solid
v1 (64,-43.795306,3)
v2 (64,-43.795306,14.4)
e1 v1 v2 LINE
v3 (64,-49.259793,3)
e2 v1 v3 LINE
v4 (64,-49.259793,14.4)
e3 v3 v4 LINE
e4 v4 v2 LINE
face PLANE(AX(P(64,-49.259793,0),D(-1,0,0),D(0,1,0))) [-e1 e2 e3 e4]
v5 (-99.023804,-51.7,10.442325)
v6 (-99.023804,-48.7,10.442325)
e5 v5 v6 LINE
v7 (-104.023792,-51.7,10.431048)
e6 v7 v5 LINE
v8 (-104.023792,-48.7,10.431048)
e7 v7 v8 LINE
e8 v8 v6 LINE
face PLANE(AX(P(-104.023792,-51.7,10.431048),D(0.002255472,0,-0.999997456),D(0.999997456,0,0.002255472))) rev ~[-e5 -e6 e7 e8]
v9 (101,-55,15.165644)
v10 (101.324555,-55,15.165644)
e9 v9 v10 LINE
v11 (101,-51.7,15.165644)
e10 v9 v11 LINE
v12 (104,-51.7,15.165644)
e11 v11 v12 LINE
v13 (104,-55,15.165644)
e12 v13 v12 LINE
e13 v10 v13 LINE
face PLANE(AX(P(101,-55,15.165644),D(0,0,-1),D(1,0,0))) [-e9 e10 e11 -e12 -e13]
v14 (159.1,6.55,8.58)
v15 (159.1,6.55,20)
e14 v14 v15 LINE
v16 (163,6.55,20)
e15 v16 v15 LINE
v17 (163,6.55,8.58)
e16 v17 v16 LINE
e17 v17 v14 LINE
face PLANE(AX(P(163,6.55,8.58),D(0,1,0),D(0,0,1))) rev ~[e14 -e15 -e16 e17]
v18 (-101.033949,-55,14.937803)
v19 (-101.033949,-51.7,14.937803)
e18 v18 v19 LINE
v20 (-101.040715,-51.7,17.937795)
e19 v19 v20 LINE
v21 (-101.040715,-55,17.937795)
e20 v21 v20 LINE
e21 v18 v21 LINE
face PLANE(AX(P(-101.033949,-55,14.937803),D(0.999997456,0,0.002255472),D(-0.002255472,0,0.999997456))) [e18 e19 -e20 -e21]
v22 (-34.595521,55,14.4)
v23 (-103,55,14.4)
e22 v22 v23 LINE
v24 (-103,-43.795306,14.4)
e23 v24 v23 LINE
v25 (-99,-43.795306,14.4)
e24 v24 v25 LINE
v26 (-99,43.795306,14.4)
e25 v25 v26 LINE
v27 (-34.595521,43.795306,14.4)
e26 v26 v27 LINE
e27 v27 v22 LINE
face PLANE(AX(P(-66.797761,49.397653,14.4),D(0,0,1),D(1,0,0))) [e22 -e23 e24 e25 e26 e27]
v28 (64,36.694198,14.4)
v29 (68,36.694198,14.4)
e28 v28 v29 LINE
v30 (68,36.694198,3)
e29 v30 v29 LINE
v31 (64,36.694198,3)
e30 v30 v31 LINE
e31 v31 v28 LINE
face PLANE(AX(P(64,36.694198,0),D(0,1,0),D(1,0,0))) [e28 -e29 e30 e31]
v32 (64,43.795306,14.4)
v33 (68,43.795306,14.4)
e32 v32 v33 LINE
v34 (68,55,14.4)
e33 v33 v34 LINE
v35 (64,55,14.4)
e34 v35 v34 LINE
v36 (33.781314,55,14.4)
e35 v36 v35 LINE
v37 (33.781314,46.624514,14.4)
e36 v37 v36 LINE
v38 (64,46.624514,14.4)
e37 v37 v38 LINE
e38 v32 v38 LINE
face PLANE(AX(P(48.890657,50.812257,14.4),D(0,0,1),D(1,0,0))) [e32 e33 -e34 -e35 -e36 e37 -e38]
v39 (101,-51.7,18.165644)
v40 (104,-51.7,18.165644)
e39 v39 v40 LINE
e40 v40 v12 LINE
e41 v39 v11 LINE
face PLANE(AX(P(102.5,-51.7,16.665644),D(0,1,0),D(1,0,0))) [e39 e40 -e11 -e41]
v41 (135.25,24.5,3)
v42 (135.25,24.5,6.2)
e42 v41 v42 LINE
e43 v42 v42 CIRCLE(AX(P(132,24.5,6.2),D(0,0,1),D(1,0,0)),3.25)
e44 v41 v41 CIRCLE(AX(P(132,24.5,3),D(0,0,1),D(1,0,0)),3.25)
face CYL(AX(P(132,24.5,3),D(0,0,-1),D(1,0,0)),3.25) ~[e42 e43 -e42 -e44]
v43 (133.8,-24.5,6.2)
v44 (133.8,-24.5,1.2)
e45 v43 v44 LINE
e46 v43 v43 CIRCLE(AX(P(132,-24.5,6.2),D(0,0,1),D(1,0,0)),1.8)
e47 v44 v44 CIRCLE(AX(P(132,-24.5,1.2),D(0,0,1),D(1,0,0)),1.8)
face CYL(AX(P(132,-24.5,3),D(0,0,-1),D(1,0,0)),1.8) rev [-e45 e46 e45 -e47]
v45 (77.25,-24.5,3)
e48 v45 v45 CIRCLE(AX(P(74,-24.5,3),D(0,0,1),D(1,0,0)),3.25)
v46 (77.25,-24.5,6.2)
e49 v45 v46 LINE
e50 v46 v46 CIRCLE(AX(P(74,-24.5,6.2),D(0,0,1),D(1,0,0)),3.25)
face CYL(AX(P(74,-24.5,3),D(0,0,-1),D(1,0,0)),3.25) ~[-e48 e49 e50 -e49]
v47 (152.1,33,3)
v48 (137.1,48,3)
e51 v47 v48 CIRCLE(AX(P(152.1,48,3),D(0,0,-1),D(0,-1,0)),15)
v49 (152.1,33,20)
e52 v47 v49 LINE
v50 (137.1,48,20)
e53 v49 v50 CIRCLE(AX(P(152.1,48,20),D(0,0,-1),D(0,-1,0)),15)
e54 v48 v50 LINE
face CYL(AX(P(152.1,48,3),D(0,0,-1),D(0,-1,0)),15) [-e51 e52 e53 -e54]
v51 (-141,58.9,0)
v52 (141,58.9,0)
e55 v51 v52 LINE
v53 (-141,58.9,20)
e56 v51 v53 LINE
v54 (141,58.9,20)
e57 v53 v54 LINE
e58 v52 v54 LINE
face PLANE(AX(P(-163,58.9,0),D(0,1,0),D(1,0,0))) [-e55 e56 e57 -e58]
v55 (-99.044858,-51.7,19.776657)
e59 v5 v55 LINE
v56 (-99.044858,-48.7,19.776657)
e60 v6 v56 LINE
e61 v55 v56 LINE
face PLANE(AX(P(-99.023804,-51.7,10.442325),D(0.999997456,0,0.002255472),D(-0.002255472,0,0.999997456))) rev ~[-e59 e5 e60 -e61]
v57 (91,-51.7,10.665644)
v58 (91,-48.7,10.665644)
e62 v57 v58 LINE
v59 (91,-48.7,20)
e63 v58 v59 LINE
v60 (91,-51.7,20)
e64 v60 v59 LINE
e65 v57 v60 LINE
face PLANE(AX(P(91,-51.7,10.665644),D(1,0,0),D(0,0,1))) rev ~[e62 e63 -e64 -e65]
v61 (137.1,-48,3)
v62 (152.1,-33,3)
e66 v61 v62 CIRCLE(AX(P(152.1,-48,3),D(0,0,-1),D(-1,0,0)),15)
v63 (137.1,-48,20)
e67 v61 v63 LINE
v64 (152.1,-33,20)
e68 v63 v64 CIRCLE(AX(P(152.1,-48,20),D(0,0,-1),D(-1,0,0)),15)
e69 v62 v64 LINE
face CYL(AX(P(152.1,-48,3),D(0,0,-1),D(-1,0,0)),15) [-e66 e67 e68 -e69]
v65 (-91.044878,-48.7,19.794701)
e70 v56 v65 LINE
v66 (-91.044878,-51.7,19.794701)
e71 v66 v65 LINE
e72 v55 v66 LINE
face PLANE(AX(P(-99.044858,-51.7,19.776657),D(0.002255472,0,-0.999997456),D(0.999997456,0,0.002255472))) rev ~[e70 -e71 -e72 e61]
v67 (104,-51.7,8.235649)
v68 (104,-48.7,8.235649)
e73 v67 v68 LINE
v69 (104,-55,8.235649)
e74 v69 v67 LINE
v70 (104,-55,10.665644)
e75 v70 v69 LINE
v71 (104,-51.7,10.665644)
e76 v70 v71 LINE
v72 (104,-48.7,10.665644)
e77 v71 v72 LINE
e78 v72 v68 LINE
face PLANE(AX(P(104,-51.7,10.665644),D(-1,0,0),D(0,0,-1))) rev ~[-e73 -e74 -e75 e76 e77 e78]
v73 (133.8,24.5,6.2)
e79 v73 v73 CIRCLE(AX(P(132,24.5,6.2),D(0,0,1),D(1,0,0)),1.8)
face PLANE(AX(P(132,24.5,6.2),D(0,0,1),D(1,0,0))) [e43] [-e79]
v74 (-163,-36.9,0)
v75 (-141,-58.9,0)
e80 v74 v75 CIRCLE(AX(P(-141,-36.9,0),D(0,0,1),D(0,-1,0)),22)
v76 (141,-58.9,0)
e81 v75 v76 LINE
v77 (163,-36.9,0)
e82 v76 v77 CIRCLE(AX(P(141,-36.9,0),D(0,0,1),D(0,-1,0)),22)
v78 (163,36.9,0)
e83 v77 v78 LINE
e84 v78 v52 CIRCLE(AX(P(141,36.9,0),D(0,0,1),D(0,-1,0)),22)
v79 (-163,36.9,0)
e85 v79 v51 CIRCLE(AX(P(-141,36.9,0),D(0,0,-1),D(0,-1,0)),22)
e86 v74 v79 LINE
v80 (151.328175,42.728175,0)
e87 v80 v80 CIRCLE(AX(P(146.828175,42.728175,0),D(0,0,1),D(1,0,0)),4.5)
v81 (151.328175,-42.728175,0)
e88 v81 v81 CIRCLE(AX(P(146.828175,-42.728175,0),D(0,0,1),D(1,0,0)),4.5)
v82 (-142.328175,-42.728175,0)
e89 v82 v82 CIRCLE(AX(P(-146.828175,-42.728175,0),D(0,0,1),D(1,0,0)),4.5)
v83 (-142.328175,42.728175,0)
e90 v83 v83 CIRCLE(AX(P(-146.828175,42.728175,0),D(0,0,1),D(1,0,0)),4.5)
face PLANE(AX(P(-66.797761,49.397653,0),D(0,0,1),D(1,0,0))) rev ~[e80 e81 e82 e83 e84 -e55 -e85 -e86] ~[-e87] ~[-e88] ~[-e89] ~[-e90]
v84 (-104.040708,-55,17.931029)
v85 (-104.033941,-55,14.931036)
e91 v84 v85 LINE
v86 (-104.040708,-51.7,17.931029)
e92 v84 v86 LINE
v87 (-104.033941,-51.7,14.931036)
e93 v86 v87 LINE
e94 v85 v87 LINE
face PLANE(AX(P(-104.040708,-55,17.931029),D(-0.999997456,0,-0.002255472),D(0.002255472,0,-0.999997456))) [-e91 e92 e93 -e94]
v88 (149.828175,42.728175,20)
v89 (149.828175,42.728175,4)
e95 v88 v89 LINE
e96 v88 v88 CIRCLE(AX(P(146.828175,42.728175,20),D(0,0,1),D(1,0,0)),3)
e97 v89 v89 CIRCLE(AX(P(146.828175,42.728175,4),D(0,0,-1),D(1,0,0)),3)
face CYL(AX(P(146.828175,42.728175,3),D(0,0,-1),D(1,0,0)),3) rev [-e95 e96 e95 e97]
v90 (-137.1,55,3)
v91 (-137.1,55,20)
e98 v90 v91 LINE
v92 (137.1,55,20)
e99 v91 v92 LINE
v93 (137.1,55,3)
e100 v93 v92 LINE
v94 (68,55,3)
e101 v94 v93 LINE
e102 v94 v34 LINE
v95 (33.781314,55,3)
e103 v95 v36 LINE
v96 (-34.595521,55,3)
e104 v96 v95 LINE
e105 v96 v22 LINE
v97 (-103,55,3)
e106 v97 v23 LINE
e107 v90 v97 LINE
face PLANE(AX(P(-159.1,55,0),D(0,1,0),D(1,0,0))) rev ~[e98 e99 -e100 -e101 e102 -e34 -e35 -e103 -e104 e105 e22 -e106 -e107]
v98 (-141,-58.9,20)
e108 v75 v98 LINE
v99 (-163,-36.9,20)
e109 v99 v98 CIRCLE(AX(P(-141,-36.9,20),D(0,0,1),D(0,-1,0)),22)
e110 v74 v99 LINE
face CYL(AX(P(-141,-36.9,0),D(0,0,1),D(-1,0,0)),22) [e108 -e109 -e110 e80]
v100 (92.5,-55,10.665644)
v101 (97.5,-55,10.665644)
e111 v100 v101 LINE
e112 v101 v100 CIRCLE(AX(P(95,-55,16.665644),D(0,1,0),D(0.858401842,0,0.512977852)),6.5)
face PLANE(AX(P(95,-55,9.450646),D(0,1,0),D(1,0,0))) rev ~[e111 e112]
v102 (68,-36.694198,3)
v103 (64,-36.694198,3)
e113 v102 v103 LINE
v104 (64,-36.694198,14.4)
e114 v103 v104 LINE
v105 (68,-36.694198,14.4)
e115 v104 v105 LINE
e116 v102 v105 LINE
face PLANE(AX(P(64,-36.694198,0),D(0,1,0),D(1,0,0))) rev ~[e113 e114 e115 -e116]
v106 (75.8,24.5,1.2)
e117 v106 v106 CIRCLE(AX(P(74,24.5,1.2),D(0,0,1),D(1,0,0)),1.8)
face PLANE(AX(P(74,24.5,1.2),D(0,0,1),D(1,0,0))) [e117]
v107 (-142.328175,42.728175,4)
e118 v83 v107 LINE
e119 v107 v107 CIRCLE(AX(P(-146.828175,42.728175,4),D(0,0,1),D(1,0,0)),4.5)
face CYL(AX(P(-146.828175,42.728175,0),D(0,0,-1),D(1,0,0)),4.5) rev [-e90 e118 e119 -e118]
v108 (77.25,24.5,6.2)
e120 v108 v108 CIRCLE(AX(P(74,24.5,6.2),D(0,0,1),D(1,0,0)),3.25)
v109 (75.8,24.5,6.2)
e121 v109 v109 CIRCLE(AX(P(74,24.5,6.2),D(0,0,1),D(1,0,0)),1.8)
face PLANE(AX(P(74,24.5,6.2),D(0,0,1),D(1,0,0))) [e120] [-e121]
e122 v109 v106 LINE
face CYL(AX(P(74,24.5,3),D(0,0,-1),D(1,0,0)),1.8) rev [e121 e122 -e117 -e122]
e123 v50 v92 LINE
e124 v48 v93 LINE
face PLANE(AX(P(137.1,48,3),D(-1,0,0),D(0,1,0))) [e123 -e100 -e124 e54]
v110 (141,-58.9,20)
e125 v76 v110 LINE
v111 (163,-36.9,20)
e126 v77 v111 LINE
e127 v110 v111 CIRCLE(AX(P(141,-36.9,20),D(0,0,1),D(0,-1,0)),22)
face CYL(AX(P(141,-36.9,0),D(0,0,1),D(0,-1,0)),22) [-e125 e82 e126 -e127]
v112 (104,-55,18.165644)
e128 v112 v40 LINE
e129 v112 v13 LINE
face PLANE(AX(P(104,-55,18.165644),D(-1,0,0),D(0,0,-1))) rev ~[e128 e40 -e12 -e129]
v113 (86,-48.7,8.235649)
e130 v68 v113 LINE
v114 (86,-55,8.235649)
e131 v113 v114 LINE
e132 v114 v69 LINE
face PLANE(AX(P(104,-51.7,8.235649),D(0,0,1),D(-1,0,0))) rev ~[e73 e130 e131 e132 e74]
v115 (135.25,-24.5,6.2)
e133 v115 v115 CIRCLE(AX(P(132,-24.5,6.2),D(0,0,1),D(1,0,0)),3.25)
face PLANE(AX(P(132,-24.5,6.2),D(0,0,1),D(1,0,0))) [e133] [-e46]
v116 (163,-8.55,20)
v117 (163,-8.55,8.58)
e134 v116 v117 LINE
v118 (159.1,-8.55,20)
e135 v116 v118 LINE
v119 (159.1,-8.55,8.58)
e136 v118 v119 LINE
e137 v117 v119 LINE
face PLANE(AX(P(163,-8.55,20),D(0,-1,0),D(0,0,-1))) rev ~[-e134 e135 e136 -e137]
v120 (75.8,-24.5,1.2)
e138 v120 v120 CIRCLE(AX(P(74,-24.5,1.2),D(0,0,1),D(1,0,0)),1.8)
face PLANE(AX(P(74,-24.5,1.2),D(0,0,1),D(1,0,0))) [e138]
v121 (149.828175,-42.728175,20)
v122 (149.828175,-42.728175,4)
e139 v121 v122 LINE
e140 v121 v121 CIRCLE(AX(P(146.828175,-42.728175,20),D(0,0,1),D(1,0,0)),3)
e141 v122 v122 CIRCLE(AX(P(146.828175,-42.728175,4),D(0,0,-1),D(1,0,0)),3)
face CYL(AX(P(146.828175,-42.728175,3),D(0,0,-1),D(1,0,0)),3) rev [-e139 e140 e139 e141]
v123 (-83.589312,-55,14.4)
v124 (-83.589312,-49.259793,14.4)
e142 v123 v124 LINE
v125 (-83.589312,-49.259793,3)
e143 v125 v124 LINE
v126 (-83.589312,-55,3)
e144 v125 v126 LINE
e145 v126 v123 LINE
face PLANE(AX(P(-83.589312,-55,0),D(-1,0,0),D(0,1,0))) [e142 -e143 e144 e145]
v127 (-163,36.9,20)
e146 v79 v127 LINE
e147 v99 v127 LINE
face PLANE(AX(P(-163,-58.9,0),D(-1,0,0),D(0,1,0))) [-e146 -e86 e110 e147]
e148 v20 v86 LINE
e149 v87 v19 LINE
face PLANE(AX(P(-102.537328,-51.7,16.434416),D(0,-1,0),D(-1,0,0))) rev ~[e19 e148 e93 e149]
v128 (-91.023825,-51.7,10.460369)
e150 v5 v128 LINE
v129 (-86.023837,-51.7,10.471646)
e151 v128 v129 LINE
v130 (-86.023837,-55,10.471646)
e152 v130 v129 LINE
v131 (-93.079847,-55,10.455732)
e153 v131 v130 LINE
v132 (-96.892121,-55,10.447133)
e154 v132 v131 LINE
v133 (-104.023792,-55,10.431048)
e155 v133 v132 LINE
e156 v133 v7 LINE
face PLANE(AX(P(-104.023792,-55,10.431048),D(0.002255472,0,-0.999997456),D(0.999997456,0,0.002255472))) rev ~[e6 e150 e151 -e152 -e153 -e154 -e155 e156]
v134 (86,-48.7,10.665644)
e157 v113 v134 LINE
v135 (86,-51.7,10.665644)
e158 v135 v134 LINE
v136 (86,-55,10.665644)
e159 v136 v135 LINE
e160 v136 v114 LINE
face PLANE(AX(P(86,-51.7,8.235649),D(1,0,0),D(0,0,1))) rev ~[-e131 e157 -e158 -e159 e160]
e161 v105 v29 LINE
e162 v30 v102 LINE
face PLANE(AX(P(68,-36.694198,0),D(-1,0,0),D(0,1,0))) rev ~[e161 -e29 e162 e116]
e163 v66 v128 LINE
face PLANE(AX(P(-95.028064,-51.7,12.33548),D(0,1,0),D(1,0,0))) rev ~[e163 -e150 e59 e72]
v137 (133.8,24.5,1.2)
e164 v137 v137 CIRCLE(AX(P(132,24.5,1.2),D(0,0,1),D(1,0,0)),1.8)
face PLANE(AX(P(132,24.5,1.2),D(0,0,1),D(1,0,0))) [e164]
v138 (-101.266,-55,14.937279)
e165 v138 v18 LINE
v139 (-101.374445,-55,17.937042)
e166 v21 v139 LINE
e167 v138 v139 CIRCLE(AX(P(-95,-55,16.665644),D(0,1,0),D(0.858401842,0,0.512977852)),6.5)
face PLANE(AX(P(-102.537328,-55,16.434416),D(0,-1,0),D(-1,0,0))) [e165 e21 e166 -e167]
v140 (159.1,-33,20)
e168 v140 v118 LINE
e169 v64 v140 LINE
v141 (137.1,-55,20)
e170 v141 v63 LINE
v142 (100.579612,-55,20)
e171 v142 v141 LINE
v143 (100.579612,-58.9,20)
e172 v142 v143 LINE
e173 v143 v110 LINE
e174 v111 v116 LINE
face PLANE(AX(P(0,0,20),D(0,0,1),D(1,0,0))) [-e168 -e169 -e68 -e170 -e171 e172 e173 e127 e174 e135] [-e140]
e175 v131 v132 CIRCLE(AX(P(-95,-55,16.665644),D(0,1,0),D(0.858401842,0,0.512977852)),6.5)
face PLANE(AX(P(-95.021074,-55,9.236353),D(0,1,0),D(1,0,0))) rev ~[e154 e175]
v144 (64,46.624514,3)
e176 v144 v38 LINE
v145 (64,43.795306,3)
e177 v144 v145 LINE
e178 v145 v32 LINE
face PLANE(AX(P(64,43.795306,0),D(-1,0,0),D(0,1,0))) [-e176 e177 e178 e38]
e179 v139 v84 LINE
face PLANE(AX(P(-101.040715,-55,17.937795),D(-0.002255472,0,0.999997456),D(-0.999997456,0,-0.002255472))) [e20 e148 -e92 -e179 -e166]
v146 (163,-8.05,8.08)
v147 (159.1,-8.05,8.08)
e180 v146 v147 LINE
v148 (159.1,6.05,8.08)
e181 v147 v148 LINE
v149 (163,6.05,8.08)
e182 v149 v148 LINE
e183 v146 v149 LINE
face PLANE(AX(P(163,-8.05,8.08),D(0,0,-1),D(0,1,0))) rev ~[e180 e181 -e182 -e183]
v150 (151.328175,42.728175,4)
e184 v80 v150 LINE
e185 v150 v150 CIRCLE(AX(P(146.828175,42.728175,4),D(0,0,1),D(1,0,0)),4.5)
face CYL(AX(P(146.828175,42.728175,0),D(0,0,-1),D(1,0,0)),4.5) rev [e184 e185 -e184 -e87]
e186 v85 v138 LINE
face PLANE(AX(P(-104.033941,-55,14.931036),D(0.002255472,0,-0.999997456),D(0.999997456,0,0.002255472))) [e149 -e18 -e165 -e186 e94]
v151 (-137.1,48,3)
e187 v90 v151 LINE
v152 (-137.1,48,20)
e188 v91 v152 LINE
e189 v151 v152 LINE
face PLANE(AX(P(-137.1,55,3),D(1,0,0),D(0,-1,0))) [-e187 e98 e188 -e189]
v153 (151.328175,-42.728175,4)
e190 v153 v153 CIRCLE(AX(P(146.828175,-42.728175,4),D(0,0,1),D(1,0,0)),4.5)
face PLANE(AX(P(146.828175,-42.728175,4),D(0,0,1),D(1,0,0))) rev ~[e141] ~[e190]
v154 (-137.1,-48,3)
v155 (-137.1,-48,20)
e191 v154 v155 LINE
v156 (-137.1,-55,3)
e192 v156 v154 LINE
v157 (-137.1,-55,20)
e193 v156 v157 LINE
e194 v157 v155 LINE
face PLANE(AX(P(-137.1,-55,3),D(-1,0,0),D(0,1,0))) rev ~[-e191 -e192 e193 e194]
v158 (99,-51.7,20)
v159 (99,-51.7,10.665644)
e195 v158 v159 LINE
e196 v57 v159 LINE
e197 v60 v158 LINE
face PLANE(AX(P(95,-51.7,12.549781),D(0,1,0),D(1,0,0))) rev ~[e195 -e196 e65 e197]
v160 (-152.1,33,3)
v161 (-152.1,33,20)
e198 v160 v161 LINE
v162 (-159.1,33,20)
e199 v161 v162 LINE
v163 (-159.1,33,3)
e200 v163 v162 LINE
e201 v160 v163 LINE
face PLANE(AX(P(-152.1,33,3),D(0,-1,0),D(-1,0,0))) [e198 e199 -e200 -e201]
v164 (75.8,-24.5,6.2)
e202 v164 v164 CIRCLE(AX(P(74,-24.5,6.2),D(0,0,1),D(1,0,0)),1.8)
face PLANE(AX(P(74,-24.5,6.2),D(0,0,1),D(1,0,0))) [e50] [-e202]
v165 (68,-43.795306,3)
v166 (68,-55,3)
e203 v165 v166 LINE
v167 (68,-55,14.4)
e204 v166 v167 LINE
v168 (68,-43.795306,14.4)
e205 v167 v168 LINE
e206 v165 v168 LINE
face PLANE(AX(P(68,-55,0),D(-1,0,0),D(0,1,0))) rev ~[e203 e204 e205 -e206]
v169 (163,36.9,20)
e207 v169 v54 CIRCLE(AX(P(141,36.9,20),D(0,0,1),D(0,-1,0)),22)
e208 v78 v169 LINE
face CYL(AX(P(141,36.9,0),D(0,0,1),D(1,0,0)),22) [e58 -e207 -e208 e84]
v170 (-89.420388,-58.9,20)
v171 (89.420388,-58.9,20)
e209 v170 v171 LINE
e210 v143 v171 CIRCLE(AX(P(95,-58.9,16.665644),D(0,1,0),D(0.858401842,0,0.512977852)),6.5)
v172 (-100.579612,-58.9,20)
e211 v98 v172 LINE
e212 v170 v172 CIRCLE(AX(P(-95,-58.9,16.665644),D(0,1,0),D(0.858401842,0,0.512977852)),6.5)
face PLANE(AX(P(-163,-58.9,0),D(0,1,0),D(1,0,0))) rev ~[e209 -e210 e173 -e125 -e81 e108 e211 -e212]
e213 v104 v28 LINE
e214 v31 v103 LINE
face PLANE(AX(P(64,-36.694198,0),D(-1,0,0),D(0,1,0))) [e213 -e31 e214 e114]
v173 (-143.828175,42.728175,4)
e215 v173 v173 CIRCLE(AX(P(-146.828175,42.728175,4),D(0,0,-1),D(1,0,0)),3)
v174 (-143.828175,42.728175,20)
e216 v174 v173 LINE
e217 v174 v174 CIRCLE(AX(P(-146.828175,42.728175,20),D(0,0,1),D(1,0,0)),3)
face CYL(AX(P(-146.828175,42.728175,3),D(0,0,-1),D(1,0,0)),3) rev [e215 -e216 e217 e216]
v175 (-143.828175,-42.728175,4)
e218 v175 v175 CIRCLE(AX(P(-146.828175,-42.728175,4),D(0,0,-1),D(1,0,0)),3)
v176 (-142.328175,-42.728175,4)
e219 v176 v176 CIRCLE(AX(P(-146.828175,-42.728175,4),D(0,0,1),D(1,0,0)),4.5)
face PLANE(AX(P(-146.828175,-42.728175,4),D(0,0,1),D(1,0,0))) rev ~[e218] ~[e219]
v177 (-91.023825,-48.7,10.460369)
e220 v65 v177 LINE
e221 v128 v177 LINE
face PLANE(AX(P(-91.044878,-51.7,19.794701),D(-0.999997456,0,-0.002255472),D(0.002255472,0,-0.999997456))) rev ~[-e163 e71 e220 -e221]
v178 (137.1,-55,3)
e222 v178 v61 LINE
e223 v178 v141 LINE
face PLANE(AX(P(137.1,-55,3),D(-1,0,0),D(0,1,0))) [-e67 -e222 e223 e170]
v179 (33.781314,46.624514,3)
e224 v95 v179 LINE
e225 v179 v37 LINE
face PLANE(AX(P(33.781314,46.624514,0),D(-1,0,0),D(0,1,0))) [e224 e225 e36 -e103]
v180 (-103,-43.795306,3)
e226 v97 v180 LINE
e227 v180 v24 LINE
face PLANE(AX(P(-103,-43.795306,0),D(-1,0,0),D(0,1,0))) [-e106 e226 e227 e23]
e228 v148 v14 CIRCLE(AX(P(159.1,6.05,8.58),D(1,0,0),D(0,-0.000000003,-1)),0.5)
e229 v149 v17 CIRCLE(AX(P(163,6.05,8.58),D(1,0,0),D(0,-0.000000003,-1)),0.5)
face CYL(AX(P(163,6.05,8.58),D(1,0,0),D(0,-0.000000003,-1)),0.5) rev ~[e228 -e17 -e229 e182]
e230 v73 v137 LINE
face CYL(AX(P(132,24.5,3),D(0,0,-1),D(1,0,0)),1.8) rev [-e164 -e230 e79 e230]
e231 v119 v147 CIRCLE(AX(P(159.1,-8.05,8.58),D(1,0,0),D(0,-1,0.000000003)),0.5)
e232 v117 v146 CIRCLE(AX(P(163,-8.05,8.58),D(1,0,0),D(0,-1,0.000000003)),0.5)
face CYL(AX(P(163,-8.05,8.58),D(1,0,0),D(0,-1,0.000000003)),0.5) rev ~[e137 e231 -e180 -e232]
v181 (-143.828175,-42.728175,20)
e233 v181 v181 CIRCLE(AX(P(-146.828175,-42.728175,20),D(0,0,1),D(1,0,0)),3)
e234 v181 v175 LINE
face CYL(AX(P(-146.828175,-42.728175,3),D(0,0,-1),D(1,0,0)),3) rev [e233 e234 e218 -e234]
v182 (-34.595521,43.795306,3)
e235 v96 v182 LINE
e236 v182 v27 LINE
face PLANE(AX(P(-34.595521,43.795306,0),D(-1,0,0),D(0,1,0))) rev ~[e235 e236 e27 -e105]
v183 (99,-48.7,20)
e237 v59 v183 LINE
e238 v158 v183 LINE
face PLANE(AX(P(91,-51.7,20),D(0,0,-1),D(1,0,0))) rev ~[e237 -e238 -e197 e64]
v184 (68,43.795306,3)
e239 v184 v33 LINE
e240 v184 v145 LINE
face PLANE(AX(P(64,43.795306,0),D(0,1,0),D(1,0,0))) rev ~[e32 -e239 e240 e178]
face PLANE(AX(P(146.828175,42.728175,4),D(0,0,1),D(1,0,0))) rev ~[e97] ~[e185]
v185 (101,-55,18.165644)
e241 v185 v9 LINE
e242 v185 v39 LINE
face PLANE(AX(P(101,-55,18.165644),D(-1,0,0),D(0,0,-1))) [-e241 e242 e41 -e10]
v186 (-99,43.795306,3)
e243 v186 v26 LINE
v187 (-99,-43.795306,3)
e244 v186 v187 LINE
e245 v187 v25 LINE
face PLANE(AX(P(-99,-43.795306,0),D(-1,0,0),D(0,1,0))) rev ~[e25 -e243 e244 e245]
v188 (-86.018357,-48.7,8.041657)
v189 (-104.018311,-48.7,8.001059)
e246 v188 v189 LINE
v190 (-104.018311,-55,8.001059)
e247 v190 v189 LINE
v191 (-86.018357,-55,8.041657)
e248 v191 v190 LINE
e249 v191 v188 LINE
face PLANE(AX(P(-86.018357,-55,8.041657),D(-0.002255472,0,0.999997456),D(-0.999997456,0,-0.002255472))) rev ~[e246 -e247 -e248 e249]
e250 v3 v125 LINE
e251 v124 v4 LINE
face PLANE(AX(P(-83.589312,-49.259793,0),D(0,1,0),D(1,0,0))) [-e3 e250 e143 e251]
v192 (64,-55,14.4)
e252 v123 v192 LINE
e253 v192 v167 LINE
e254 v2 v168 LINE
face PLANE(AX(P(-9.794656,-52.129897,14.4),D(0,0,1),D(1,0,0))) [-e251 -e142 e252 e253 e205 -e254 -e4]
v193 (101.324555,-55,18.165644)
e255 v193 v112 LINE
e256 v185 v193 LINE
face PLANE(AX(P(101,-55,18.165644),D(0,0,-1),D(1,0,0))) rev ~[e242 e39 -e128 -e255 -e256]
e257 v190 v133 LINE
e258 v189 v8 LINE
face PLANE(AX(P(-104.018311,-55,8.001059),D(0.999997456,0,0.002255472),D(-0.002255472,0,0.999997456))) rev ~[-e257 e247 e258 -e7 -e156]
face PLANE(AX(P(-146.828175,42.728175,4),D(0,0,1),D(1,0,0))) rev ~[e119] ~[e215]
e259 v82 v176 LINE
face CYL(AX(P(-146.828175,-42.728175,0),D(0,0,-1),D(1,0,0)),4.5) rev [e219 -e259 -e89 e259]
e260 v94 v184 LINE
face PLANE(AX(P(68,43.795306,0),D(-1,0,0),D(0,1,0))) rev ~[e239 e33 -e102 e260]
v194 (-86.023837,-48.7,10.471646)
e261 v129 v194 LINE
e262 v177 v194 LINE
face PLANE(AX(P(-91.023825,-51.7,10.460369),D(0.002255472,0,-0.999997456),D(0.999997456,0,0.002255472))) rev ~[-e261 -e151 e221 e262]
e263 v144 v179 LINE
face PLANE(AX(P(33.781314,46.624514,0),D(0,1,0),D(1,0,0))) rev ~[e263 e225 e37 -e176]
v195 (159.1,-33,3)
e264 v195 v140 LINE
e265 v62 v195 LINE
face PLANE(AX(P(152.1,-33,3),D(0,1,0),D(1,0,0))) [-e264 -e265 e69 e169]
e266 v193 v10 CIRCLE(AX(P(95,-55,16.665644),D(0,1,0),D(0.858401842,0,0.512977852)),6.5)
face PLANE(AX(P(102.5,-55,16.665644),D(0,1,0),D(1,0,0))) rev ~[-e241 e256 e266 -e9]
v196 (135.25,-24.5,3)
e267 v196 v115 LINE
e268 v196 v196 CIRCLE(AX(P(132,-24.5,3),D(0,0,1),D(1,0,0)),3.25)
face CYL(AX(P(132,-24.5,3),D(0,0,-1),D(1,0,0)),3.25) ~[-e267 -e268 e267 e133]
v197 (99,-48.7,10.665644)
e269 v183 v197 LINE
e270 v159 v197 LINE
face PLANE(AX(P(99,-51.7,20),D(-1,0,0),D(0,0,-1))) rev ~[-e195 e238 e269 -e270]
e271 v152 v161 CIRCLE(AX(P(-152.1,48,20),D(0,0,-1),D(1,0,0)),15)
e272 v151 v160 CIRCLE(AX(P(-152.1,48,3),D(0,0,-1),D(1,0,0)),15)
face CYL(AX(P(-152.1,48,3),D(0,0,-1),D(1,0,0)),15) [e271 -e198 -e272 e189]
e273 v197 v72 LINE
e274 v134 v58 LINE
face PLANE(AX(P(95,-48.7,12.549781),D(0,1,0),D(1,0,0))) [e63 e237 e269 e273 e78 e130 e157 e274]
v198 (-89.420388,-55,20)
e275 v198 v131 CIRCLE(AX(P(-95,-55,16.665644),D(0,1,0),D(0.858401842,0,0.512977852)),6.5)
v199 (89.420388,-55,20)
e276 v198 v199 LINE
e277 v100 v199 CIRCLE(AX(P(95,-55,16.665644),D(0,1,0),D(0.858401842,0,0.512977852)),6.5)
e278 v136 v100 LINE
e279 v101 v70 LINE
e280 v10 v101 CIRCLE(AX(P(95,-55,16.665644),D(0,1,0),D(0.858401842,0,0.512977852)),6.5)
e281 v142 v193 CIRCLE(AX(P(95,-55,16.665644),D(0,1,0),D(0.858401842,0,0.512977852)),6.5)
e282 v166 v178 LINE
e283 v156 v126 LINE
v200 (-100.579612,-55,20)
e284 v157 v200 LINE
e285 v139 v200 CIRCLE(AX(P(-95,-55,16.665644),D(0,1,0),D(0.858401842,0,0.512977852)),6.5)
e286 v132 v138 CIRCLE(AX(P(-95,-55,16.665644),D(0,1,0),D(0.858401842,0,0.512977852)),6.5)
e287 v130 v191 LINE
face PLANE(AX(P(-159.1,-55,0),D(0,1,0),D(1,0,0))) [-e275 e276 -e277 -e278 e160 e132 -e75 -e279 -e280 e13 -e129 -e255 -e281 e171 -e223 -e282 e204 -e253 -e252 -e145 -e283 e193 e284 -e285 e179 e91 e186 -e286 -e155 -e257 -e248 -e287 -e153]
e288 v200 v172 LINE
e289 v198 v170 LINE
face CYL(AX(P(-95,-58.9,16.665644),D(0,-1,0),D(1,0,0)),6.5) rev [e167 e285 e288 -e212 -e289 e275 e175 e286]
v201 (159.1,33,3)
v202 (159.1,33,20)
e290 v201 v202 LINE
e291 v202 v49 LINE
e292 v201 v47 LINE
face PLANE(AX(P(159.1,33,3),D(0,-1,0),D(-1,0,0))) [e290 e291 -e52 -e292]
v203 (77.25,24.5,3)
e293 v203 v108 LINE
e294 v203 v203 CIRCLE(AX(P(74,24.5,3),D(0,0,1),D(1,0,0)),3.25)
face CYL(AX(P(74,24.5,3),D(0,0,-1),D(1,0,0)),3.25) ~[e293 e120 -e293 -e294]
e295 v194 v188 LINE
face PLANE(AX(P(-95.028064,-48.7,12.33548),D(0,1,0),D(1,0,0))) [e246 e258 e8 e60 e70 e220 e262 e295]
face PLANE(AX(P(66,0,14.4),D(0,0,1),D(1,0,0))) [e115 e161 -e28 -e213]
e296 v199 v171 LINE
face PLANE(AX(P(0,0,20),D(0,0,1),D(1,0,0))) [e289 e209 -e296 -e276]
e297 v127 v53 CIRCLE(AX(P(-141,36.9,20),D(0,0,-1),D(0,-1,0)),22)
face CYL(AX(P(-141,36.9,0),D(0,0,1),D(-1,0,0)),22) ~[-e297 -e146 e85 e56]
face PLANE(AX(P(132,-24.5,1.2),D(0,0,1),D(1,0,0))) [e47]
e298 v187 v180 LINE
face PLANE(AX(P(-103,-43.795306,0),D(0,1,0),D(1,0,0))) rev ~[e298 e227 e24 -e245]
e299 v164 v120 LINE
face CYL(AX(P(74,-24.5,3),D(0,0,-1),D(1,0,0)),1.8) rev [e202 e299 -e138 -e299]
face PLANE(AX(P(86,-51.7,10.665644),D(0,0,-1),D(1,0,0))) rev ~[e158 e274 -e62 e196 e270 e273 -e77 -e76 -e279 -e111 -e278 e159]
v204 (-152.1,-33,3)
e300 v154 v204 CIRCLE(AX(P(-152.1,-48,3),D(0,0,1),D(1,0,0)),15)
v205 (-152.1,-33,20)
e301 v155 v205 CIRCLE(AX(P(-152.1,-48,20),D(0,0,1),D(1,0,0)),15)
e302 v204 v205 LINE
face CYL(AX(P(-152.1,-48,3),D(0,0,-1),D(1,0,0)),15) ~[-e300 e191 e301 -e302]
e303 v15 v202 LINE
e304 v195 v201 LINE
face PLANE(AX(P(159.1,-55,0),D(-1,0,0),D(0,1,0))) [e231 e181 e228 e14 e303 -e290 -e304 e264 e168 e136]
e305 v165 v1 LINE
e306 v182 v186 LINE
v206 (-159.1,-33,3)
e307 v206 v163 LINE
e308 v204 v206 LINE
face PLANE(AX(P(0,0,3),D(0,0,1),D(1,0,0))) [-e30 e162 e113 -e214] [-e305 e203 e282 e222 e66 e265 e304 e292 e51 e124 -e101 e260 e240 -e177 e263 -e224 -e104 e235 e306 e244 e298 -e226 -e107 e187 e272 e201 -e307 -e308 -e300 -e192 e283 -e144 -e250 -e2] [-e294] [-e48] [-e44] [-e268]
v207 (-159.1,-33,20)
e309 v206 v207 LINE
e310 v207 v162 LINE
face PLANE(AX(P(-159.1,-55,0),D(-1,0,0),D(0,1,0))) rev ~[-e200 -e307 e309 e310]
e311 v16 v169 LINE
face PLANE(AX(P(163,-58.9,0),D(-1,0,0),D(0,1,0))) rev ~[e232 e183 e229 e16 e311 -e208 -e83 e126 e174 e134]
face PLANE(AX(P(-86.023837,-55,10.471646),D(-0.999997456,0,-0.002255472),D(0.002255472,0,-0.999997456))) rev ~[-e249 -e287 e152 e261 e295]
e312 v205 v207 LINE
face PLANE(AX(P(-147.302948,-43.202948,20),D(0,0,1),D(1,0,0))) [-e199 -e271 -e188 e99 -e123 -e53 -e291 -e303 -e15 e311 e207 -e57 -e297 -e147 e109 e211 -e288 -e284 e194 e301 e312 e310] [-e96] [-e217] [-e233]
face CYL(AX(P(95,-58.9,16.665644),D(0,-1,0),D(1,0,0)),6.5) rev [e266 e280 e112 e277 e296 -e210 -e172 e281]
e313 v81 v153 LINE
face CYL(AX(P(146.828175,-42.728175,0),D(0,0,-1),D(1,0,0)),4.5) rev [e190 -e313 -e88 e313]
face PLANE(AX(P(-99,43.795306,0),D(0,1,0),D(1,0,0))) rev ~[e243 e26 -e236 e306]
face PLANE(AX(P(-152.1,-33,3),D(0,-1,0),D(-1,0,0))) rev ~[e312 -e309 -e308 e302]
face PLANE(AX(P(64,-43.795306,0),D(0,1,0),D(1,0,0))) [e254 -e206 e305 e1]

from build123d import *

# Parameters (mm, degrees)
SKETCH1_W            = 326
SKETCH1_H            = 117.8
SKETCH1_W_2          = 318.2
SKETCH1_H_2          = 110
BOSS_EXTRUDE1_DEPTH  = 20
SKETCH1_3_W          = 318.2
SKETCH1_3_H          = 110
BOSS_EXTRUDE2_DEPTH  = 3
BOSS_EXTRUDE6_START  = 3
SKETCH6_R            = 3.25
SKETCH6_R_2          = 1.8
BOSS_EXTRUDE6_DEPTH  = 3.2
FILLET1_R            = 22
CUT_EXTRUDE3_START   = 163
CUT_EXTRUDE3_DEPTH   = 3.9
CUT_EXTRUDE4_START   = 1.2
SKETCH6_2_R          = 1.8
CUT_EXTRUDE4_DEPTH   = 1.8
SKETCH5_W            = 64.404478897
SKETCH5_H            = 11.204693833
SKETCH5_W_2          = 4
SKETCH5_H_2          = 98.795306167
SKETCH5_W_3          = 30.218685567
SKETCH5_H_3          = 8.375486052
SKETCH5_H_4          = 73.388395798
SKETCH5_W_4          = 147.589311785
SKETCH5_H_5          = 5.740206696
BOSS_EXTRUDE7_DEPTH  = 14.4
CUT_EXTRUDE5_START   = -58.9
SKETCH10_R           = 6.5
CUT_EXTRUDE5_DEPTH   = 3.9
BOSS_EXTRUDE8_START  = -55
SKETCH11_W           = 18
SKETCH11_H           = 2.429995135
SKETCH11_W_2         = 3
SKETCH11_H_2         = 3
BOSS_EXTRUDE8_DEPTH  = 3.3
BOSS_EXTRUDE9_START  = -51.7
BOSS_EXTRUDE9_DEPTH  = 3
BOSS_EXTRUDE10_START = 3
SKETCH12_R           = 3
BOSS_EXTRUDE10_DEPTH = 17
SKETCH12_3_R         = 3
CUT_EXTRUDE6_DEPTH   = 6
SKETCH13_R           = 4.5
CUT_EXTRUDE7_DEPTH   = 4


with BuildPart() as part:
    # Sketch1 → Boss-Extrude1 (new body)
    with BuildSketch(Plane.XY):
        Rectangle(SKETCH1_W, SKETCH1_H)
        Rectangle(SKETCH1_W_2, SKETCH1_H_2, mode=Mode.SUBTRACT)
    extrude(amount=BOSS_EXTRUDE1_DEPTH)

    # Sketch1<3> → Boss-Extrude2 (add)
    with BuildSketch(Plane.XY):
        Rectangle(SKETCH1_3_W, SKETCH1_3_H)
    extrude(amount=BOSS_EXTRUDE2_DEPTH)

    # Sketch6 → Boss-Extrude6 (add)
    # profile 1 of 4: a face of its own
    with BuildSketch(Plane.XY.offset(BOSS_EXTRUDE6_START)):
        with Locations((132, -24.5)):
            Circle(SKETCH6_R)
        with Locations((132, -24.5)):
            Circle(SKETCH6_R_2, mode=Mode.SUBTRACT)
    # profile 2 of 4: a face of its own
    with BuildSketch(Plane.XY.offset(BOSS_EXTRUDE6_START)):
        with Locations((74, -24.5)):
            Circle(SKETCH6_R)
        with Locations((74, -24.5)):
            Circle(SKETCH6_R_2, mode=Mode.SUBTRACT)
    # profile 3 of 4: a face of its own
    with BuildSketch(Plane.XY.offset(BOSS_EXTRUDE6_START)):
        with Locations((74, 24.5)):
            Circle(SKETCH6_R)
        with Locations((74, 24.5)):
            Circle(SKETCH6_R_2, mode=Mode.SUBTRACT)
    # profile 4 of 4: a face of its own
    with BuildSketch(Plane.XY.offset(BOSS_EXTRUDE6_START)):
        with Locations((132, 24.5)):
            Circle(SKETCH6_R)
        with Locations((132, 24.5)):
            Circle(SKETCH6_R_2, mode=Mode.SUBTRACT)
    extrude(amount=BOSS_EXTRUDE6_DEPTH)

    # Fillet1
    fillet1_edges = [part.edges().sort_by_distance(p)[0] for p in [
        (163, 58.9, 10),
        (163, -58.9, 10),
        (-163, -58.9, 10),
        (-163, 58.9, 10),
        (159.1, 55, 11.5),
        (-159.1, 55, 11.5),
        (-159.1, -55, 11.5),
        (159.1, -55, 11.5),
    ]]
    fillet(fillet1_edges, radius=FILLET1_R)

    # Sketch9 → Cut-Extrude3 (cut)
    with BuildSketch(Plane(origin=(0, 0, 0), x_dir=(0, 0, -1), z_dir=(1, 0, 0)).offset(CUT_EXTRUDE3_START)):
        with BuildLine():
            Line((-20, -8.55), (-8.58, -8.55))
            ThreePointArc((-8.58, -8.55), (-8.226446609, -8.403553391), (-8.08, -8.05))
            Line((-8.08, -8.05), (-8.08, 6.05))
            ThreePointArc((-8.08, 6.05), (-8.226446609, 6.403553391), (-8.58, 6.55))
            Line((-8.58, 6.55), (-20, 6.55))
            Line((-20, 6.55), (-20, -8.55))
        make_face()
    extrude(amount=-CUT_EXTRUDE3_DEPTH, mode=Mode.SUBTRACT)

    # Sketch6<2> → Cut-Extrude4 (cut)
    with BuildSketch(Plane.XY.offset(CUT_EXTRUDE4_START)):
        with Locations((132, -24.5)):
            Circle(SKETCH6_2_R)
        with Locations((132, 24.5)):
            Circle(SKETCH6_2_R)
        with Locations((74, 24.5)):
            Circle(SKETCH6_2_R)
        with Locations((74, -24.5)):
            Circle(SKETCH6_2_R)
    extrude(amount=CUT_EXTRUDE4_DEPTH, mode=Mode.SUBTRACT)

    # Sketch5 → Boss-Extrude7 (add)
    with BuildSketch(Plane.XY):
        with Locations((-66.797760552, 49.397653084)):
            Rectangle(SKETCH5_W, SKETCH5_H)
        with Locations((-101, 5.602346917)):
            Rectangle(SKETCH5_W_2, SKETCH5_H_2)
        with Locations((48.890657217, 50.812256974)):
            Rectangle(SKETCH5_W_3, SKETCH5_H_3)
        with Locations((66, 49.397653084)):
            Rectangle(SKETCH5_W_2, SKETCH5_H)
        with Locations((66, 0)):
            Rectangle(SKETCH5_W_2, SKETCH5_H_4)
        with Locations((-9.794655893, -52.129896652)):
            Rectangle(SKETCH5_W_4, SKETCH5_H_5)
        with Locations((66, -49.397653084)):
            Rectangle(SKETCH5_W_2, SKETCH5_H)
    extrude(amount=BOSS_EXTRUDE7_DEPTH)

    # Sketch10 → Cut-Extrude5 (cut)
    with BuildSketch(Plane(origin=(0, 0, 0), x_dir=(1, 0, 0), z_dir=(0, 1, 0)).offset(CUT_EXTRUDE5_START)):
        with Locations((95, -16.665643961)):
            Circle(SKETCH10_R)
        with Locations((-95, -16.665643961)):
            Circle(SKETCH10_R)
    extrude(amount=CUT_EXTRUDE5_DEPTH, mode=Mode.SUBTRACT)

    # Sketch11 → Boss-Extrude8 (add)
    with BuildSketch(Plane(origin=(0, 0, 0), x_dir=(1, 0, 0), z_dir=(0, 1, 0)).offset(BOSS_EXTRUDE8_START)):
        Polygon((-104.033941149, -14.931036323), (-101.03394878, -14.937802738), (-101.040715195, -17.937795107), (-104.040707565, -17.931028692), align=None)
        Polygon((-86.018356525, -8.041657306), (-104.018310741, -8.001058815), (-104.023791526, -10.431047769), (-86.023837311, -10.47164626), align=None)
        with Locations((95, -9.450646394)):
            Rectangle(SKETCH11_W, SKETCH11_H)
        with Locations((102.5, -16.665643961)):
            Rectangle(SKETCH11_W_2, SKETCH11_H_2)
    extrude(amount=BOSS_EXTRUDE8_DEPTH)

    # Sketch11<3> → Boss-Extrude9 (add)
    with BuildSketch(Plane(origin=(0, 0, 0), x_dir=(1, 0, 0), z_dir=(0, 1, 0)).offset(BOSS_EXTRUDE9_START)):
        Polygon((86, -8.235648826), (86, -10.665643961), (91, -10.665643961), (91, -20), (99, -20), (99, -10.665643961), (104, -10.665643961), (104, -8.235648826), align=None)
        Polygon((-104.023791526, -10.431047769), (-99.023804244, -10.442325128), (-99.044857621, -19.776657424), (-91.044877969, -19.794701198), (-91.023824593, -10.460368902), (-86.023837311, -10.47164626), (-86.018356525, -8.041657306), (-104.018310741, -8.001058815), align=None)
    extrude(amount=BOSS_EXTRUDE9_DEPTH)

    # Sketch12 → Boss-Extrude10 (add)
    # profile 1 of 4: a face of its own
    with BuildSketch(Plane.XY.offset(BOSS_EXTRUDE10_START)):
        with BuildLine():
            Line((-137.1, -55), (-137.1, -48))
            ThreePointArc((-137.1, -48), (-141.493398282, -37.393398282), (-152.1, -33))
            Line((-152.1, -33), (-159.1, -33))
            ThreePointArc((-159.1, -33), (-152.656349186, -48.556349186), (-137.1, -55))
        make_face()
        with Locations((-146.828174593, -42.728174593)):
            Circle(SKETCH12_R, mode=Mode.SUBTRACT)
    # profile 2 of 4: a face of its own
    with BuildSketch(Plane.XY.offset(BOSS_EXTRUDE10_START)):
        with BuildLine():
            ThreePointArc((-137.1, 48), (-141.493398282, 37.393398282), (-152.1, 33))
            Line((-152.1, 33), (-159.1, 33))
            ThreePointArc((-159.1, 33), (-152.656349186, 48.556349186), (-137.1, 55))
            Line((-137.1, 55), (-137.1, 48))
        make_face()
        with Locations((-146.828174593, 42.728174593)):
            Circle(SKETCH12_R, mode=Mode.SUBTRACT)
    # profile 3 of 4: a face of its own
    with BuildSketch(Plane.XY.offset(BOSS_EXTRUDE10_START)):
        with BuildLine():
            ThreePointArc((152.1, 33), (141.493398282, 37.393398282), (137.1, 48))
            Line((137.1, 48), (137.1, 55))
            ThreePointArc((137.1, 55), (152.656349186, 48.556349186), (159.1, 33))
            Line((159.1, 33), (152.1, 33))
        make_face()
        with Locations((146.828174593, 42.728174593)):
            Circle(SKETCH12_R, mode=Mode.SUBTRACT)
    # profile 4 of 4: a face of its own
    with BuildSketch(Plane.XY.offset(BOSS_EXTRUDE10_START)):
        with BuildLine():
            ThreePointArc((137.1, -48), (141.493398282, -37.393398282), (152.1, -33))
            Line((152.1, -33), (159.1, -33))
            ThreePointArc((159.1, -33), (152.656349186, -48.556349186), (137.1, -55))
            Line((137.1, -55), (137.1, -48))
        make_face()
        with Locations((146.828174593, -42.728174593)):
            Circle(SKETCH12_R, mode=Mode.SUBTRACT)
    extrude(amount=BOSS_EXTRUDE10_DEPTH)

    # Sketch12<3> → Cut-Extrude6 (cut)
    with BuildSketch(Plane.XY):
        with Locations((146.828174593, 42.728174593)):
            Circle(SKETCH12_3_R)
        with Locations((146.828174593, -42.728174593)):
            Circle(SKETCH12_3_R)
        with Locations((-146.828174593, -42.728174593)):
            Circle(SKETCH12_3_R)
        with Locations((-146.828174593, 42.728174593)):
            Circle(SKETCH12_3_R)
    extrude(amount=CUT_EXTRUDE6_DEPTH, mode=Mode.SUBTRACT)

    # Sketch13 → Cut-Extrude7 (cut)
    with BuildSketch(Plane.XY):
        with Locations((-146.828174593, -42.728174593)):
            Circle(SKETCH13_R)
        with Locations((-146.828174593, 42.728174593)):
            Circle(SKETCH13_R)
        with Locations((146.828174593, 42.728174593)):
            Circle(SKETCH13_R)
        with Locations((146.828174593, -42.728174593)):
            Circle(SKETCH13_R)
    extrude(amount=CUT_EXTRUDE7_DEPTH, mode=Mode.SUBTRACT)


solid = part.part
